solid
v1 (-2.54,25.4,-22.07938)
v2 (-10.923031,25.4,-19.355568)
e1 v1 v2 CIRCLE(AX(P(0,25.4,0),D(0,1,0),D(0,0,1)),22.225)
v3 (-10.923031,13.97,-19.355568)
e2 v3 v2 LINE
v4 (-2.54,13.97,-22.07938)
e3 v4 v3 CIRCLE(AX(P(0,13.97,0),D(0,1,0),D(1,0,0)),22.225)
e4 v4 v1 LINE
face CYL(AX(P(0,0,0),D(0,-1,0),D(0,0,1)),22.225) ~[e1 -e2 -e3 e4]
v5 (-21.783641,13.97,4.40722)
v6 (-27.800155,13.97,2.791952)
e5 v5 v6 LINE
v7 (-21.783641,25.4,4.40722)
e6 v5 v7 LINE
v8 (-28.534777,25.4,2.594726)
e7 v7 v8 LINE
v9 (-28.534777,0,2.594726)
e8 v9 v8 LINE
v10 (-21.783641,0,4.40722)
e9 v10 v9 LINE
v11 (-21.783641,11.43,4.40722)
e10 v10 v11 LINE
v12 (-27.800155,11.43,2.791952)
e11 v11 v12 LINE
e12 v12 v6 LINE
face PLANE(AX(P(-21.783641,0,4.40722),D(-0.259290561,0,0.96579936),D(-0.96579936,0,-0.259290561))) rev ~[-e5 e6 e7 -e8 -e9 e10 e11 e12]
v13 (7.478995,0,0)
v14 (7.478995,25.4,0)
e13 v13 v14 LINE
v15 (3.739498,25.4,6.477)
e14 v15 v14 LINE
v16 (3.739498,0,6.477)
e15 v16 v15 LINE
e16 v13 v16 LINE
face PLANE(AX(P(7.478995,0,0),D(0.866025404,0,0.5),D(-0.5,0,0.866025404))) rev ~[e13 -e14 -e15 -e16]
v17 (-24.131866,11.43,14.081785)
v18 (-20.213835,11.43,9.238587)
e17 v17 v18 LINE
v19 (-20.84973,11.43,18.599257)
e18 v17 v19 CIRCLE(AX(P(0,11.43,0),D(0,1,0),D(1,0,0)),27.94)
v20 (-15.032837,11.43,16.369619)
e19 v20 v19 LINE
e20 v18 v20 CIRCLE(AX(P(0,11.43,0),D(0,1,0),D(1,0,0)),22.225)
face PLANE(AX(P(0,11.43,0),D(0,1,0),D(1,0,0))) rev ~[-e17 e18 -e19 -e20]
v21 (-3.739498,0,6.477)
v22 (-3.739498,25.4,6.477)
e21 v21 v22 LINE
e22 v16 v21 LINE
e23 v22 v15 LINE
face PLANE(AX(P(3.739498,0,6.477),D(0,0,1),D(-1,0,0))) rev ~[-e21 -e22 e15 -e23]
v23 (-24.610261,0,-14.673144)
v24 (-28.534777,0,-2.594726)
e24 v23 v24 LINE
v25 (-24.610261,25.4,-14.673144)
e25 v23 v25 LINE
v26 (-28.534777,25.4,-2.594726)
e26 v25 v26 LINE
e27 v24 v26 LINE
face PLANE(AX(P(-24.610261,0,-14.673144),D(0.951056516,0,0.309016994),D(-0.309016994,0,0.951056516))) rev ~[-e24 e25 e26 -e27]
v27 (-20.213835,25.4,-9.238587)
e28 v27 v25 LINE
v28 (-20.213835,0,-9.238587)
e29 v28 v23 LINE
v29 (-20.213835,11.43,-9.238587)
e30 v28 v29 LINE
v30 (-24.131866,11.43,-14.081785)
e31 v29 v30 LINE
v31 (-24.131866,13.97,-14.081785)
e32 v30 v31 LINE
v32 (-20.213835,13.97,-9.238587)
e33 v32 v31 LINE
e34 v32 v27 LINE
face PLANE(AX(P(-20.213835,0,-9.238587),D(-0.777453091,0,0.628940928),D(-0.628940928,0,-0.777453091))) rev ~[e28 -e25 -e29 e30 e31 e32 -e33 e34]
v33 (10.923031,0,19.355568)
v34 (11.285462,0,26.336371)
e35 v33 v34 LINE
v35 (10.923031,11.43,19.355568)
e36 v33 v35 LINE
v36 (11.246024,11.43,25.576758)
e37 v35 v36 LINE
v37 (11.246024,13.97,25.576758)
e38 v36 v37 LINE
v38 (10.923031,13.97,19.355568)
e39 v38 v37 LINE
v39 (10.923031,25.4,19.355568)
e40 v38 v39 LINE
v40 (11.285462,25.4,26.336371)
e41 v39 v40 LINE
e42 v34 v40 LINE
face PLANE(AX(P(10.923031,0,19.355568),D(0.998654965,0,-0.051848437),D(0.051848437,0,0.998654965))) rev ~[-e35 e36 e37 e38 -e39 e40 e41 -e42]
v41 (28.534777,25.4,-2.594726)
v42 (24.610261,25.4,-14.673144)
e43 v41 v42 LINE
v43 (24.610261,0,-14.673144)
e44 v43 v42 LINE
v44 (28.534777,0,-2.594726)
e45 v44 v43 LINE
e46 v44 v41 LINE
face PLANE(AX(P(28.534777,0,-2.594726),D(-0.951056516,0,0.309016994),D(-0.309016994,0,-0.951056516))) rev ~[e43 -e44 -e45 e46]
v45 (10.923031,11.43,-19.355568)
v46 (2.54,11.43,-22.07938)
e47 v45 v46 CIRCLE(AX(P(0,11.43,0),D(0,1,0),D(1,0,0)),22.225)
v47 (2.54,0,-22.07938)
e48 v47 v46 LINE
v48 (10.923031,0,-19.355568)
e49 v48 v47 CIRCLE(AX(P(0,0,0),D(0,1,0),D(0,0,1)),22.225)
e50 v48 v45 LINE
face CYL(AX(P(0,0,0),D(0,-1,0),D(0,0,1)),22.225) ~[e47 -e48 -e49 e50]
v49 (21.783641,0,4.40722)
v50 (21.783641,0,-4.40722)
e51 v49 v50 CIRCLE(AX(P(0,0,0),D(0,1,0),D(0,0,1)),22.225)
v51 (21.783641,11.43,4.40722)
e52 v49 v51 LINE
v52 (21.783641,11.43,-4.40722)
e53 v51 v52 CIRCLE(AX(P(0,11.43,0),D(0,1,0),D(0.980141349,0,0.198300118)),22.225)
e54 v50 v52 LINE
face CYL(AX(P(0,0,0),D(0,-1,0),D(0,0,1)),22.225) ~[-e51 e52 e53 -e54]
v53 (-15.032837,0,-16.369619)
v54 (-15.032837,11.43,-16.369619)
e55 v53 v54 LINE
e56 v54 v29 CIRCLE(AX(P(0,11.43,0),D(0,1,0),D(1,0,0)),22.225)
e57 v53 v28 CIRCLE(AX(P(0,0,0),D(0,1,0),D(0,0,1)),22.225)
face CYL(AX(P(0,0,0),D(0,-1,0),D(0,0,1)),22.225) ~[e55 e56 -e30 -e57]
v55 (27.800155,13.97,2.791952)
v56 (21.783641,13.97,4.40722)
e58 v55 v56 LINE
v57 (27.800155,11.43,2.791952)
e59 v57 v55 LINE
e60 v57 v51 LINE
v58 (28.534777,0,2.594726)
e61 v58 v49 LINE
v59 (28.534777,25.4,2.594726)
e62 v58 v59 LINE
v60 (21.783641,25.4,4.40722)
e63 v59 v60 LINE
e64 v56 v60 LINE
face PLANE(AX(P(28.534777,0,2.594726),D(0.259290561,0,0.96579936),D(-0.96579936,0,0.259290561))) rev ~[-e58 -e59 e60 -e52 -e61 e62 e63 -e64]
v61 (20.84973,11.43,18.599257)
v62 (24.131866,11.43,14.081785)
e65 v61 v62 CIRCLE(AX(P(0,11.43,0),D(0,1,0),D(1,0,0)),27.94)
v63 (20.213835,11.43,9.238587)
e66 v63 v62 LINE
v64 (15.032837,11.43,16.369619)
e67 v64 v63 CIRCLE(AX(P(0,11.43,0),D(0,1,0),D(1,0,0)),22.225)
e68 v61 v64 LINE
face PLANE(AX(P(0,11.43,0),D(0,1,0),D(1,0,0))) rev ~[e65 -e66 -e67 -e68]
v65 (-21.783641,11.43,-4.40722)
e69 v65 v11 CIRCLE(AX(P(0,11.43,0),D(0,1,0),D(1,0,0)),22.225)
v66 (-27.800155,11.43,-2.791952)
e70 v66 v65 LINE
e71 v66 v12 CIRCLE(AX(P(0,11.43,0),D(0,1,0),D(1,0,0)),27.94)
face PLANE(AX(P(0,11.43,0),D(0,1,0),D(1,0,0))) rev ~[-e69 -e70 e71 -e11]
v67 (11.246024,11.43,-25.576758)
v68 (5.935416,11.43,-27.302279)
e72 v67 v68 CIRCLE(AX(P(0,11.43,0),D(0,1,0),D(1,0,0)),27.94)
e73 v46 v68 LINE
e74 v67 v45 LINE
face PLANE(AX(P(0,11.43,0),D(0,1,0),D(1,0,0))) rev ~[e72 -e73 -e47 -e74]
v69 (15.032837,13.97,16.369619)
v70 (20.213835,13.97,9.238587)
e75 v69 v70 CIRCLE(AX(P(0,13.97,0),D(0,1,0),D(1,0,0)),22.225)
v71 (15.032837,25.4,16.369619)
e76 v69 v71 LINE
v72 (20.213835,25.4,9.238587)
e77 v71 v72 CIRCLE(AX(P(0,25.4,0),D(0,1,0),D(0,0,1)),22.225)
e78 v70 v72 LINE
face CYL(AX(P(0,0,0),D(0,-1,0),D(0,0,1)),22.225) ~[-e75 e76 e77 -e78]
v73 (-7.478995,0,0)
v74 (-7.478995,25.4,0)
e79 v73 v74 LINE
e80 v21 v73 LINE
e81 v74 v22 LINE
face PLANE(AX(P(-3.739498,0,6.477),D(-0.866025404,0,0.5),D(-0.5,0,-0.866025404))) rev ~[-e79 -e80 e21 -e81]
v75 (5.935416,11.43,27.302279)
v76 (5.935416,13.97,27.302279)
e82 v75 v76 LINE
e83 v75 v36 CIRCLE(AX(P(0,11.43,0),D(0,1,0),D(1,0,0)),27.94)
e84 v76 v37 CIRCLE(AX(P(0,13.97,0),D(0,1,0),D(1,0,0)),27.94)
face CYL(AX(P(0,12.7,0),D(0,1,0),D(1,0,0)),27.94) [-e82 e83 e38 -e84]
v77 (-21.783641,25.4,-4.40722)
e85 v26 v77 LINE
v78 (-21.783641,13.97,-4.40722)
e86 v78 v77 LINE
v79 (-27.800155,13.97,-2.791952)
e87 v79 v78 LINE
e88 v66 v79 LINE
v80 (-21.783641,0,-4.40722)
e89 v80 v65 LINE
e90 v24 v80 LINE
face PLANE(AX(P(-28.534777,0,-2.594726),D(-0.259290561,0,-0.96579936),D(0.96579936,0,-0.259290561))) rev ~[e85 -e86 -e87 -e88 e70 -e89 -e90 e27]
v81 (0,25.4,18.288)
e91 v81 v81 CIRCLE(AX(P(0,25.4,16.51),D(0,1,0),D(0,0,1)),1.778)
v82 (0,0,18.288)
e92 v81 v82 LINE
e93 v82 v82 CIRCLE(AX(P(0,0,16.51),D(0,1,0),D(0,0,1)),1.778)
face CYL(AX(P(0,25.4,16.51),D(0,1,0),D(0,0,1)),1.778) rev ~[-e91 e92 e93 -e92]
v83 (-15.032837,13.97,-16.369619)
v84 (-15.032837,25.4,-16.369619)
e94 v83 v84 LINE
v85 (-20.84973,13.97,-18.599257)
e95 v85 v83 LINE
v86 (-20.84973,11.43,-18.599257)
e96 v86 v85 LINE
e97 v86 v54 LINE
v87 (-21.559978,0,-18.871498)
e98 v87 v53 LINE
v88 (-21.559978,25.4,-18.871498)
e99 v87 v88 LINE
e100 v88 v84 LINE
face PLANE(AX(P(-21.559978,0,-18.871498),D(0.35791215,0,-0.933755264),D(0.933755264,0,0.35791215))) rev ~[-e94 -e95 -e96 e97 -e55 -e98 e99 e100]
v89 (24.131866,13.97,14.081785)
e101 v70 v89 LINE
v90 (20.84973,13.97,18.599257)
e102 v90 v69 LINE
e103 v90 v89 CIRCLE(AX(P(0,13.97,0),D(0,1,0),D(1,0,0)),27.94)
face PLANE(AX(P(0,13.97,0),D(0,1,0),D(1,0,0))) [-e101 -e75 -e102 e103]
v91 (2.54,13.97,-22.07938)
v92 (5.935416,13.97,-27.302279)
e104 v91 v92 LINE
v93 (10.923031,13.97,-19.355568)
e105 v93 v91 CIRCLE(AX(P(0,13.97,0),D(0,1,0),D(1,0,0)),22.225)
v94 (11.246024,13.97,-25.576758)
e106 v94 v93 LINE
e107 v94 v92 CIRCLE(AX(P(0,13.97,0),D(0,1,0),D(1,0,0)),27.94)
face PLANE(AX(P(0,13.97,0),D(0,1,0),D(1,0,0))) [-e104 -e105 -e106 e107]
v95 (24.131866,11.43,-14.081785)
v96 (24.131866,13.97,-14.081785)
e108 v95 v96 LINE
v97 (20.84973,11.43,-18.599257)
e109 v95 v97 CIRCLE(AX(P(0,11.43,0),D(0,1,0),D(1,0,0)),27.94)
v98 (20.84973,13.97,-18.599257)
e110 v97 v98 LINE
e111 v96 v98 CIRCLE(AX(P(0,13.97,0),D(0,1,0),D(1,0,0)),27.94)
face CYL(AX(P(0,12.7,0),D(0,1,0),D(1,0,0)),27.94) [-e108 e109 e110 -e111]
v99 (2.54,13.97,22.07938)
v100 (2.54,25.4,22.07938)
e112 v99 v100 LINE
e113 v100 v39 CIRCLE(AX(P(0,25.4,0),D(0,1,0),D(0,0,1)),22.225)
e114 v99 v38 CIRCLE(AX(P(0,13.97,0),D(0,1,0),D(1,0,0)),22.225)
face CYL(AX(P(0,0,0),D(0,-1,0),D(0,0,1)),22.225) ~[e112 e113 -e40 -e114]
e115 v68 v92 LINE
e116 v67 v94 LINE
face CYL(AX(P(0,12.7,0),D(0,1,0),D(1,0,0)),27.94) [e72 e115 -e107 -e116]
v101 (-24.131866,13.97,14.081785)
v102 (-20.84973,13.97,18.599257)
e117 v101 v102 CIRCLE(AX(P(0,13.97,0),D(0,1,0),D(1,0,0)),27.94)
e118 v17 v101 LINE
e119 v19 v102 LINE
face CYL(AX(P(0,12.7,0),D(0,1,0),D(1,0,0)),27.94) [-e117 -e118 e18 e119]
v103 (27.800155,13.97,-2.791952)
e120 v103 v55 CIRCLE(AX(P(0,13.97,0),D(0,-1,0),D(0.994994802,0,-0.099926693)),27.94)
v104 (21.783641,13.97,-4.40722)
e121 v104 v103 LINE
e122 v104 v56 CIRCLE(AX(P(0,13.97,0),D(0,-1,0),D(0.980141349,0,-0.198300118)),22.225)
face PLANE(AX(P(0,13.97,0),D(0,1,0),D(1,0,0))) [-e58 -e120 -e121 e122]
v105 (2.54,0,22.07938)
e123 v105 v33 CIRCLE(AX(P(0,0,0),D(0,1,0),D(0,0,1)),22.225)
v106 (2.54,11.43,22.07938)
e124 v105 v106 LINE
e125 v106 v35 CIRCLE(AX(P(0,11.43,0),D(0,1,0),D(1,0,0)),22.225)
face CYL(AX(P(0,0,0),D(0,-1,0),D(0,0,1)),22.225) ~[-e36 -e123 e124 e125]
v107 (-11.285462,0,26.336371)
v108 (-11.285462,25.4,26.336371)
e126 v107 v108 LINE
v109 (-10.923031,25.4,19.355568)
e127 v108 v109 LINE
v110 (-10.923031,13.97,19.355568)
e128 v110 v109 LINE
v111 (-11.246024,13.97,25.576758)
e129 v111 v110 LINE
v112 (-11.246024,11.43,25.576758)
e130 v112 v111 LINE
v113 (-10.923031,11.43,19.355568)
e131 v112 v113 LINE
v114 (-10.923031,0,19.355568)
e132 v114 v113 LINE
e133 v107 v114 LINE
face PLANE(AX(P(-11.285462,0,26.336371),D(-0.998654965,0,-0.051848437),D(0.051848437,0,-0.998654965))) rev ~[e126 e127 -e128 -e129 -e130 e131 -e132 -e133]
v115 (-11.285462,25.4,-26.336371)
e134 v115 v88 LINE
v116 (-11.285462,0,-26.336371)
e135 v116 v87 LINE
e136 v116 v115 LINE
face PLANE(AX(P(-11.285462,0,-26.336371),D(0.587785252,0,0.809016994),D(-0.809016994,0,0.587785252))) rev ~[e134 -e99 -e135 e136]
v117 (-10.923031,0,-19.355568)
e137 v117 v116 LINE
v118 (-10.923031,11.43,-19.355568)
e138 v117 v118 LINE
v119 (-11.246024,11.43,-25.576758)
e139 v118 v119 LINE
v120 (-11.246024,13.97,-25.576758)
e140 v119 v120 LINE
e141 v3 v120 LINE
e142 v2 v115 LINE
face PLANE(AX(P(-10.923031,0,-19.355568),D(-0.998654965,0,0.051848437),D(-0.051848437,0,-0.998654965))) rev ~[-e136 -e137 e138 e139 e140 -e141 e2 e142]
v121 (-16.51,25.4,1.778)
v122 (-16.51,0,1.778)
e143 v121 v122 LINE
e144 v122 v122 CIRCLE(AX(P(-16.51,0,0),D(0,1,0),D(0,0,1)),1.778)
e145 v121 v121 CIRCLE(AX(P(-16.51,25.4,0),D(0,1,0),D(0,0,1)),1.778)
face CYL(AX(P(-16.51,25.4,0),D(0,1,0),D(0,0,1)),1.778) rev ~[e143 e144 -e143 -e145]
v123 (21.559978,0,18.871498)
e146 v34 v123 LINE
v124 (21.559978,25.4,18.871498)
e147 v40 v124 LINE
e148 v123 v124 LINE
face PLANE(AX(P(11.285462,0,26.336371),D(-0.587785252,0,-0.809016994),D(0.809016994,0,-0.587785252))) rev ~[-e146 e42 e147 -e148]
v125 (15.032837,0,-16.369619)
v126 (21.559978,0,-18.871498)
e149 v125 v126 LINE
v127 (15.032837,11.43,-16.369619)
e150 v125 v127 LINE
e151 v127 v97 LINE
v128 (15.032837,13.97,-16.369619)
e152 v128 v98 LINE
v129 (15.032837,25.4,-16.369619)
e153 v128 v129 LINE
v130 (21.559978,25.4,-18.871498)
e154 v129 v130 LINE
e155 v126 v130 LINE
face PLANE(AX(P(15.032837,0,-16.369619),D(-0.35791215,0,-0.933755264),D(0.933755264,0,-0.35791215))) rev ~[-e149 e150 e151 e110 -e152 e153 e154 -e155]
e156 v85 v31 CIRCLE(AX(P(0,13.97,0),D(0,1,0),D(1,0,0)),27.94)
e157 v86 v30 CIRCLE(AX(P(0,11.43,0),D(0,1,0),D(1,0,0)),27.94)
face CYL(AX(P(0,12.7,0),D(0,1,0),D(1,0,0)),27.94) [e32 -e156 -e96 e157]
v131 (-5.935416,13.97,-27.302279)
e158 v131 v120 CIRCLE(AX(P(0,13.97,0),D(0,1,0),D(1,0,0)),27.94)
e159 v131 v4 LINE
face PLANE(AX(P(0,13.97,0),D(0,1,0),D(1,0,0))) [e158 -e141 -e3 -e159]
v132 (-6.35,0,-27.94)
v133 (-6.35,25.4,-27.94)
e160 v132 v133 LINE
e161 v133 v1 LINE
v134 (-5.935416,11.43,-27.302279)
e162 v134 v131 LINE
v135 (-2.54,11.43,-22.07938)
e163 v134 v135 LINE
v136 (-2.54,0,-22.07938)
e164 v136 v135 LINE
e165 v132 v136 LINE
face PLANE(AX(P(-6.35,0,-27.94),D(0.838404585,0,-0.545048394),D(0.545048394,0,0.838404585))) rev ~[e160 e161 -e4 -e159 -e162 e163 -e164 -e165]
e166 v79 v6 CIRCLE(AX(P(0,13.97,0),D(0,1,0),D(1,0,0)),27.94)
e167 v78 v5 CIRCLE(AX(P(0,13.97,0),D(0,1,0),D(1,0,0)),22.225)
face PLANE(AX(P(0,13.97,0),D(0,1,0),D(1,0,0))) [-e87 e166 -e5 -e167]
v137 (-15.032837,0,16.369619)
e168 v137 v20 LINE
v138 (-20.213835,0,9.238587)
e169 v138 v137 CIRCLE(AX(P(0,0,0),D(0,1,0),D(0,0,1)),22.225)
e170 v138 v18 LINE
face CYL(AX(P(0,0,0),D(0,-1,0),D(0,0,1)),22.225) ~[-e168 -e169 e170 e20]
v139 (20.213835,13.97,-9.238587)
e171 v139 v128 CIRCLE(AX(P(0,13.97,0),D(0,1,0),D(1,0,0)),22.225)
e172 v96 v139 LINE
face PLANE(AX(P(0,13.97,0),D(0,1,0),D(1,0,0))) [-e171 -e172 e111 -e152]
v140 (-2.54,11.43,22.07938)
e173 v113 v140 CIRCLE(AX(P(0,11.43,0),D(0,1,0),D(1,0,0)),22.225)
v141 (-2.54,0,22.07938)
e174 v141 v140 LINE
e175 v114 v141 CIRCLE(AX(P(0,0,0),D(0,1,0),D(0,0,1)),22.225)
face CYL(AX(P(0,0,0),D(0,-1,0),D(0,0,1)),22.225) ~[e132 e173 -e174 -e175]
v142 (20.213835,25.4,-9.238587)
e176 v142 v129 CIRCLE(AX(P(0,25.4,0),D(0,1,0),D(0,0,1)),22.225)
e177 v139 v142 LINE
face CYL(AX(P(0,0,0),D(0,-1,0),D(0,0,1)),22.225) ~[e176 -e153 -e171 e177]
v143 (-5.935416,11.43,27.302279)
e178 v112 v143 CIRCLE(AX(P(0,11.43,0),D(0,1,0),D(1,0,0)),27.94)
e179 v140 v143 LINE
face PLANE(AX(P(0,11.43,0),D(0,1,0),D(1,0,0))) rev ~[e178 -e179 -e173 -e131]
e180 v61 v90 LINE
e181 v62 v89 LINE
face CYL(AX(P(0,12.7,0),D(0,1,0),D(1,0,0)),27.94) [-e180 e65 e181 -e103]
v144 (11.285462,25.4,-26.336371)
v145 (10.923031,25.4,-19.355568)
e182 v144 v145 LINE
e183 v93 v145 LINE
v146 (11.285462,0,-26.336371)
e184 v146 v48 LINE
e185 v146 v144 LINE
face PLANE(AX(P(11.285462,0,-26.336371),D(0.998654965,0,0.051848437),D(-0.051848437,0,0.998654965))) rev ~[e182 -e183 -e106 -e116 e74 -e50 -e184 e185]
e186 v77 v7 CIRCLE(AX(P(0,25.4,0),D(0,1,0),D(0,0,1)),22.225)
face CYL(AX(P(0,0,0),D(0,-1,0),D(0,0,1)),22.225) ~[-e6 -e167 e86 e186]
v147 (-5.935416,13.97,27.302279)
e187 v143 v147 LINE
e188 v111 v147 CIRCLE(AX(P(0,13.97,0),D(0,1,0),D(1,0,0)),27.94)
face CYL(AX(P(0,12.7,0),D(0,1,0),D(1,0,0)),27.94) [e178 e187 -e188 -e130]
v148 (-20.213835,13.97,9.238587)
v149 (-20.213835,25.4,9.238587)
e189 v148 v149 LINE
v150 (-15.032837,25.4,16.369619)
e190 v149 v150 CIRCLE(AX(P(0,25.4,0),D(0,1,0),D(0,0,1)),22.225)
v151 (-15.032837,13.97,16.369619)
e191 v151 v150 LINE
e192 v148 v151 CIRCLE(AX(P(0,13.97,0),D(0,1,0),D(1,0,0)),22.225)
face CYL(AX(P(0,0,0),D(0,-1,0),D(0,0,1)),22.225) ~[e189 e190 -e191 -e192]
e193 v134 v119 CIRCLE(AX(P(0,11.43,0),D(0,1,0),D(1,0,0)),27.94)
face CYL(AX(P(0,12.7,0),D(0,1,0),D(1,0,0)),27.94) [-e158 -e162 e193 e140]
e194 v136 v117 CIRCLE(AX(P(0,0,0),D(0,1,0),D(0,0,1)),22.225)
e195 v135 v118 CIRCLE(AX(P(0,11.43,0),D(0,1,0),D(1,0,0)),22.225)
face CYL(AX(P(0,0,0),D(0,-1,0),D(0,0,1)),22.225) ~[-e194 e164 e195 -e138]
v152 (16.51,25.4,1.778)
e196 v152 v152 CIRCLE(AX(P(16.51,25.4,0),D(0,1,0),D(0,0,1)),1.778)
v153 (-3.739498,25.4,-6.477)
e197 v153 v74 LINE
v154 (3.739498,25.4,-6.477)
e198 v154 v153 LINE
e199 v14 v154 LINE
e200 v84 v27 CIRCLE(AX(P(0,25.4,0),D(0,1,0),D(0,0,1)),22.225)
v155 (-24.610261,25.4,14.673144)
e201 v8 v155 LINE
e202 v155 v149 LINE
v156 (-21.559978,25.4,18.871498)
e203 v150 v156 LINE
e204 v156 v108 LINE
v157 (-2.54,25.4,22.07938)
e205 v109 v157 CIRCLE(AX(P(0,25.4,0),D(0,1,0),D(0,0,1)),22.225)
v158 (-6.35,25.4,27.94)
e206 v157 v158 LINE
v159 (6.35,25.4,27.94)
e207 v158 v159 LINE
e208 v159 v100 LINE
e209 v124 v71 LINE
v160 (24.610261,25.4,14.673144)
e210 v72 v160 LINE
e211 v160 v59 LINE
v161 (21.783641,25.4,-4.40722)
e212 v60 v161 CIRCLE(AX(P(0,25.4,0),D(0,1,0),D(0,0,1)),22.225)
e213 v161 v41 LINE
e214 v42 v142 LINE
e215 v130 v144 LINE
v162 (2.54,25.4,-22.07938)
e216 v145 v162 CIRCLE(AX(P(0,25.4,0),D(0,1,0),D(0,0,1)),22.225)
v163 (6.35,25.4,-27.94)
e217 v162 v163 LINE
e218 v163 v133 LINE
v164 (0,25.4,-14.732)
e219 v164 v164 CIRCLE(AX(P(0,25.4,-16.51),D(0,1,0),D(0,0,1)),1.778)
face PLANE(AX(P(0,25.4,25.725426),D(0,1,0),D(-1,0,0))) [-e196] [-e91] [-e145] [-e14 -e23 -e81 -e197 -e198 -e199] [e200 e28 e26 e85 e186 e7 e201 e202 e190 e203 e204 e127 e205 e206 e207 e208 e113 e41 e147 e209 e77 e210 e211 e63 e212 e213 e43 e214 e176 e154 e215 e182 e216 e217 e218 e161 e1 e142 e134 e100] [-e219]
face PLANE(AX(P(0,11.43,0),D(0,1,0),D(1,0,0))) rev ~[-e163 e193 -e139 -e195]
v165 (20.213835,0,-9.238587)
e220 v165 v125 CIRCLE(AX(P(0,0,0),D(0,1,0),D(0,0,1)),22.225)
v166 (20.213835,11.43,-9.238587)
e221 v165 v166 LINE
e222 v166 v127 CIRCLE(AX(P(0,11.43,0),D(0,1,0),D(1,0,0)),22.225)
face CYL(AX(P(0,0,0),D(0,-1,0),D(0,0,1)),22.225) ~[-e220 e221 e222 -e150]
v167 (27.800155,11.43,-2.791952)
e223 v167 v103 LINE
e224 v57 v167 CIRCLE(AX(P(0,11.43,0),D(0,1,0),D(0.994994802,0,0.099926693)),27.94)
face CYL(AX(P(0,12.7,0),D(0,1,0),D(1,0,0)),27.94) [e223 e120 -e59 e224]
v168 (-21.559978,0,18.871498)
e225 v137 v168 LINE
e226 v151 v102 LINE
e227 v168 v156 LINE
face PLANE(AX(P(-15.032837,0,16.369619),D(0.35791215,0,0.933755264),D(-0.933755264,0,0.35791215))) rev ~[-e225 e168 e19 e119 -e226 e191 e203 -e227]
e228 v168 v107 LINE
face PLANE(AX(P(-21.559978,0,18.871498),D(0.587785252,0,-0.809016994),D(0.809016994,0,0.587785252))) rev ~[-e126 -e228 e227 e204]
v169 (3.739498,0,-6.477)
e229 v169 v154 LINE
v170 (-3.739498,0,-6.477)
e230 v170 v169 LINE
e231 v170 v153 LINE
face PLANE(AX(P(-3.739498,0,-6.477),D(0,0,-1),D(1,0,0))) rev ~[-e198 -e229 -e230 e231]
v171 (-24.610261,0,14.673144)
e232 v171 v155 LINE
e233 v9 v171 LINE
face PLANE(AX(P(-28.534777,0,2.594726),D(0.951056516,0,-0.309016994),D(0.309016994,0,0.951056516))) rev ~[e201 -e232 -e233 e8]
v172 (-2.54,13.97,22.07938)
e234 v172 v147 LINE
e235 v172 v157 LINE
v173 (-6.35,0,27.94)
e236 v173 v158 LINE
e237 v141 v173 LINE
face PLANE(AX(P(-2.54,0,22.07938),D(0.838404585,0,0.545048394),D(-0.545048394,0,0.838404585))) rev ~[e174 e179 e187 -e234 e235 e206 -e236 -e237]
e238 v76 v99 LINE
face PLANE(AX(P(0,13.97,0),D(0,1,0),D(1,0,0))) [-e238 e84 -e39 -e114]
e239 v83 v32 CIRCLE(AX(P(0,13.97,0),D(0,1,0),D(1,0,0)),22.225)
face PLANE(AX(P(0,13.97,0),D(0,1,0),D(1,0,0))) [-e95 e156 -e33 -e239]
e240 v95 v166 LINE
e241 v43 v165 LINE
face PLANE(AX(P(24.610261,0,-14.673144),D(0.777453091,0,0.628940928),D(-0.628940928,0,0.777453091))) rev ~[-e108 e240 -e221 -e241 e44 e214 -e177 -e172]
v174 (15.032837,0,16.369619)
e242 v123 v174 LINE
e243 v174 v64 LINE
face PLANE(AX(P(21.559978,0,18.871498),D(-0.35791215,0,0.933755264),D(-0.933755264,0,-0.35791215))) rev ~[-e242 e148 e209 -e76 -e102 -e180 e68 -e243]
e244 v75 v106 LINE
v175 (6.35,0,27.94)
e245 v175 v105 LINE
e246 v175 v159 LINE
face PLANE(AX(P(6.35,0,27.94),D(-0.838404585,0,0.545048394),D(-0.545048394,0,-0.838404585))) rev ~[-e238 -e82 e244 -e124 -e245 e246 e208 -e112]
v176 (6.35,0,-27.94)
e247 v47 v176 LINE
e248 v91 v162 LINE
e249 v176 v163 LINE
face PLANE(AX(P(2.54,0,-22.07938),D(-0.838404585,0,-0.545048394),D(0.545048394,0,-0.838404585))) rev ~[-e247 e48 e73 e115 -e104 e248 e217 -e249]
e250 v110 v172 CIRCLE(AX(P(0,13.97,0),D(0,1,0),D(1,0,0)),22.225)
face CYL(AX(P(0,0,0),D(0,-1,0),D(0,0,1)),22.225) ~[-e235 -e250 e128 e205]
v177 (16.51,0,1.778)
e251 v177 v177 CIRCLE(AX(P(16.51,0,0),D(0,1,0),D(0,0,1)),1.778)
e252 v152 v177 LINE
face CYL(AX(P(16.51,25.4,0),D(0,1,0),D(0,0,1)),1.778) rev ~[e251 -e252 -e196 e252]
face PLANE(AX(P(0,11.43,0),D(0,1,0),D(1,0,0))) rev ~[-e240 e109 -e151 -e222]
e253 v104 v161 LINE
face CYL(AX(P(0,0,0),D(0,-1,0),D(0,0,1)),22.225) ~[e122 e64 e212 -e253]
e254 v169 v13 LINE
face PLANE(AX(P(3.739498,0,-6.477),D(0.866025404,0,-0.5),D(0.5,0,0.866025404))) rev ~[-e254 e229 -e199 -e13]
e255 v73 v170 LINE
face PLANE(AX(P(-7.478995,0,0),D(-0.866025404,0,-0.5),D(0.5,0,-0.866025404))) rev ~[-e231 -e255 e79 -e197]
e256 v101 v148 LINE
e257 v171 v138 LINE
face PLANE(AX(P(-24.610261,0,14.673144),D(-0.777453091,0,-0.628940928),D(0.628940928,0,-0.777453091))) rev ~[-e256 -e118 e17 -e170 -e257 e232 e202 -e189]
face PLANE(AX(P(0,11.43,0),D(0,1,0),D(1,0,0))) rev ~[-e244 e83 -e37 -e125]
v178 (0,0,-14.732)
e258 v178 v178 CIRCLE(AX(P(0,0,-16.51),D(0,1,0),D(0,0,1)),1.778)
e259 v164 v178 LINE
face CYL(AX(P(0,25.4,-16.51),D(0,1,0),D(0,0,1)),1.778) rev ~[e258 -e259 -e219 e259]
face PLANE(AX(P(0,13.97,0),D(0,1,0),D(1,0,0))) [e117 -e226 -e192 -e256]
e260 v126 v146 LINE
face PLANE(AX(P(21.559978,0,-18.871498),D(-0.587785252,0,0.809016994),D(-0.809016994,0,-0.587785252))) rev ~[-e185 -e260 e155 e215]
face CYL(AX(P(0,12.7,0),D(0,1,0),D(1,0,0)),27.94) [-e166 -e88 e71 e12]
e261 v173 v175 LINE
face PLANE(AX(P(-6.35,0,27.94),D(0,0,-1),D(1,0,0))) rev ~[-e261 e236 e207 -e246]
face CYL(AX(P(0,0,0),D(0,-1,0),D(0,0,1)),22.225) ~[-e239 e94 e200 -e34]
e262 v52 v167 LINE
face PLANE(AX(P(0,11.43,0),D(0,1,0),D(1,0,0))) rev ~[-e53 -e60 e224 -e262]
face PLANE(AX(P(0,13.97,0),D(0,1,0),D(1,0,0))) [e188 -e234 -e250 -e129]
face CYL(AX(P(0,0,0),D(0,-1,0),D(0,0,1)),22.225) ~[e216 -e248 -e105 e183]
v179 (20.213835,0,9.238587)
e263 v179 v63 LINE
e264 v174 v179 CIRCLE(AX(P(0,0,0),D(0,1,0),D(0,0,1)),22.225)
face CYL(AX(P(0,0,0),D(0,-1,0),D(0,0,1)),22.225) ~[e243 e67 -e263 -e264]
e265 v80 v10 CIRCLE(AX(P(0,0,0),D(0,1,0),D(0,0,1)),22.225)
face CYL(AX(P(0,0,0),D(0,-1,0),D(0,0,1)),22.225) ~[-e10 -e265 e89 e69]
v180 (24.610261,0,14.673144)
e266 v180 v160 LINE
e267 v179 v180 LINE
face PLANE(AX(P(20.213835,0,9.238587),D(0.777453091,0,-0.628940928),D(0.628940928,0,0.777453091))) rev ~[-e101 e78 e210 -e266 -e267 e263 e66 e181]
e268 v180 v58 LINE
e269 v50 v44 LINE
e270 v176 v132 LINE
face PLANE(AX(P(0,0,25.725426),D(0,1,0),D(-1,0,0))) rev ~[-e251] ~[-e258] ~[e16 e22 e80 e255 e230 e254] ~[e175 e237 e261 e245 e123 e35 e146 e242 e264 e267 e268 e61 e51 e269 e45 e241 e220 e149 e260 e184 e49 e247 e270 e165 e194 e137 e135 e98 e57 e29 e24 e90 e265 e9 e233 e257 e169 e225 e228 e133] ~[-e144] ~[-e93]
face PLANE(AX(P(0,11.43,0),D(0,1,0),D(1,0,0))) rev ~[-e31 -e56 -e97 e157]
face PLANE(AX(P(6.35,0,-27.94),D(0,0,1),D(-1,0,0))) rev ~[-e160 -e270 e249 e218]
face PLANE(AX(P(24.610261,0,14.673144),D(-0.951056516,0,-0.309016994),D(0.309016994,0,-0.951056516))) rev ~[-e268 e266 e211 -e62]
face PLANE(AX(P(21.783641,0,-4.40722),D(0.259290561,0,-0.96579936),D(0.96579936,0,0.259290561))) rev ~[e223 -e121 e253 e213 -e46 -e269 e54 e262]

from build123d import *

# Parameters (mm, degrees)
SKETCH1_R           = 22.225
BOSS_EXTRUDE1_DEPTH = 25.4
CUT_EXTRUDE1_DEPTH  = 41.411152545
BOSS_EXTRUDE2_DEPTH = 25.4
CIRPATTERN1_COUNT   = 10
SKETCH5_R           = 27.94
SKETCH5_R_2         = 22.225
BOSS_EXTRUDE3_DEPTH = 1.27
SKETCH6_R           = 1.778
CUT_EXTRUDE2_DEPTH  = 48.329030175


with BuildPart() as part:
    # Sketch1 → Boss-Extrude1 (new body)
    with BuildSketch(Plane(origin=(0, 0, 0), x_dir=(1, 0, 0), z_dir=(0, 1, 0))):
        with Locations(Location((0, 0, 0), (0, 0, 270))):
            Circle(SKETCH1_R)
    extrude(amount=BOSS_EXTRUDE1_DEPTH)

    # Sketch2 → Cut-Extrude1 (cut, through all)
    with BuildSketch(Plane.XZ):
        Polygon((7.478995387, 0), (3.739497694, 6.477), (-3.739497694, 6.477), (-7.478995387, 0), (-3.739497694, -6.477), (3.739497694, -6.477), align=None)
    extrude(amount=-CUT_EXTRUDE1_DEPTH, mode=Mode.SUBTRACT)

    # Sketch3 → Boss-Extrude2 (add)
    with BuildSketch(Plane.XZ):
        with BuildLine():
            Line((-2.54, 22.079380086), (-6.35, 27.94))
            Line((-6.35, 27.94), (6.35, 27.94))
            Line((6.35, 27.94), (2.54, 22.079380086))
            ThreePointArc((2.54, 22.079380086), (0, 22.225), (-2.54, 22.079380086))
        make_face()
    boss_extrude2 = extrude(amount=-BOSS_EXTRUDE2_DEPTH)

    # CirPattern1: Boss-Extrude2 ×10 about axis
    cirpattern1_axis = Axis((0, 0, 0), (0, 1, 0))
    for i in range(1, CIRPATTERN1_COUNT):
        add(boss_extrude2.rotate(cirpattern1_axis, i * 360 / CIRPATTERN1_COUNT))

    # Sketch5 → Boss-Extrude3 (add, symmetric)
    with BuildSketch(Plane(origin=(0, 12.7, 0), x_dir=(1, 0, 0), z_dir=(0, 1, 0))):
        Circle(SKETCH5_R)
        Circle(SKETCH5_R_2, mode=Mode.SUBTRACT)
    extrude(amount=BOSS_EXTRUDE3_DEPTH, both=True)

    # Sketch6 → Cut-Extrude2 (cut, through all)
    with BuildSketch(Plane(origin=(0, 25.4, 0), x_dir=(1, 0, 0), z_dir=(0, 1, 0))):
        with Locations(Location((-16.51, 0, 0), (0, 0, 270))):
            Circle(SKETCH6_R)
        with Locations(Location((0, 16.51, 0), (0, 0, 270))):
            Circle(SKETCH6_R)
        with Locations(Location((16.51, 0, 0), (0, 0, 270))):
            Circle(SKETCH6_R)
        with Locations(Location((0, -16.51, 0), (0, 0, 270))):
            Circle(SKETCH6_R)
    extrude(amount=-CUT_EXTRUDE2_DEPTH, mode=Mode.SUBTRACT)


solid = part.part
